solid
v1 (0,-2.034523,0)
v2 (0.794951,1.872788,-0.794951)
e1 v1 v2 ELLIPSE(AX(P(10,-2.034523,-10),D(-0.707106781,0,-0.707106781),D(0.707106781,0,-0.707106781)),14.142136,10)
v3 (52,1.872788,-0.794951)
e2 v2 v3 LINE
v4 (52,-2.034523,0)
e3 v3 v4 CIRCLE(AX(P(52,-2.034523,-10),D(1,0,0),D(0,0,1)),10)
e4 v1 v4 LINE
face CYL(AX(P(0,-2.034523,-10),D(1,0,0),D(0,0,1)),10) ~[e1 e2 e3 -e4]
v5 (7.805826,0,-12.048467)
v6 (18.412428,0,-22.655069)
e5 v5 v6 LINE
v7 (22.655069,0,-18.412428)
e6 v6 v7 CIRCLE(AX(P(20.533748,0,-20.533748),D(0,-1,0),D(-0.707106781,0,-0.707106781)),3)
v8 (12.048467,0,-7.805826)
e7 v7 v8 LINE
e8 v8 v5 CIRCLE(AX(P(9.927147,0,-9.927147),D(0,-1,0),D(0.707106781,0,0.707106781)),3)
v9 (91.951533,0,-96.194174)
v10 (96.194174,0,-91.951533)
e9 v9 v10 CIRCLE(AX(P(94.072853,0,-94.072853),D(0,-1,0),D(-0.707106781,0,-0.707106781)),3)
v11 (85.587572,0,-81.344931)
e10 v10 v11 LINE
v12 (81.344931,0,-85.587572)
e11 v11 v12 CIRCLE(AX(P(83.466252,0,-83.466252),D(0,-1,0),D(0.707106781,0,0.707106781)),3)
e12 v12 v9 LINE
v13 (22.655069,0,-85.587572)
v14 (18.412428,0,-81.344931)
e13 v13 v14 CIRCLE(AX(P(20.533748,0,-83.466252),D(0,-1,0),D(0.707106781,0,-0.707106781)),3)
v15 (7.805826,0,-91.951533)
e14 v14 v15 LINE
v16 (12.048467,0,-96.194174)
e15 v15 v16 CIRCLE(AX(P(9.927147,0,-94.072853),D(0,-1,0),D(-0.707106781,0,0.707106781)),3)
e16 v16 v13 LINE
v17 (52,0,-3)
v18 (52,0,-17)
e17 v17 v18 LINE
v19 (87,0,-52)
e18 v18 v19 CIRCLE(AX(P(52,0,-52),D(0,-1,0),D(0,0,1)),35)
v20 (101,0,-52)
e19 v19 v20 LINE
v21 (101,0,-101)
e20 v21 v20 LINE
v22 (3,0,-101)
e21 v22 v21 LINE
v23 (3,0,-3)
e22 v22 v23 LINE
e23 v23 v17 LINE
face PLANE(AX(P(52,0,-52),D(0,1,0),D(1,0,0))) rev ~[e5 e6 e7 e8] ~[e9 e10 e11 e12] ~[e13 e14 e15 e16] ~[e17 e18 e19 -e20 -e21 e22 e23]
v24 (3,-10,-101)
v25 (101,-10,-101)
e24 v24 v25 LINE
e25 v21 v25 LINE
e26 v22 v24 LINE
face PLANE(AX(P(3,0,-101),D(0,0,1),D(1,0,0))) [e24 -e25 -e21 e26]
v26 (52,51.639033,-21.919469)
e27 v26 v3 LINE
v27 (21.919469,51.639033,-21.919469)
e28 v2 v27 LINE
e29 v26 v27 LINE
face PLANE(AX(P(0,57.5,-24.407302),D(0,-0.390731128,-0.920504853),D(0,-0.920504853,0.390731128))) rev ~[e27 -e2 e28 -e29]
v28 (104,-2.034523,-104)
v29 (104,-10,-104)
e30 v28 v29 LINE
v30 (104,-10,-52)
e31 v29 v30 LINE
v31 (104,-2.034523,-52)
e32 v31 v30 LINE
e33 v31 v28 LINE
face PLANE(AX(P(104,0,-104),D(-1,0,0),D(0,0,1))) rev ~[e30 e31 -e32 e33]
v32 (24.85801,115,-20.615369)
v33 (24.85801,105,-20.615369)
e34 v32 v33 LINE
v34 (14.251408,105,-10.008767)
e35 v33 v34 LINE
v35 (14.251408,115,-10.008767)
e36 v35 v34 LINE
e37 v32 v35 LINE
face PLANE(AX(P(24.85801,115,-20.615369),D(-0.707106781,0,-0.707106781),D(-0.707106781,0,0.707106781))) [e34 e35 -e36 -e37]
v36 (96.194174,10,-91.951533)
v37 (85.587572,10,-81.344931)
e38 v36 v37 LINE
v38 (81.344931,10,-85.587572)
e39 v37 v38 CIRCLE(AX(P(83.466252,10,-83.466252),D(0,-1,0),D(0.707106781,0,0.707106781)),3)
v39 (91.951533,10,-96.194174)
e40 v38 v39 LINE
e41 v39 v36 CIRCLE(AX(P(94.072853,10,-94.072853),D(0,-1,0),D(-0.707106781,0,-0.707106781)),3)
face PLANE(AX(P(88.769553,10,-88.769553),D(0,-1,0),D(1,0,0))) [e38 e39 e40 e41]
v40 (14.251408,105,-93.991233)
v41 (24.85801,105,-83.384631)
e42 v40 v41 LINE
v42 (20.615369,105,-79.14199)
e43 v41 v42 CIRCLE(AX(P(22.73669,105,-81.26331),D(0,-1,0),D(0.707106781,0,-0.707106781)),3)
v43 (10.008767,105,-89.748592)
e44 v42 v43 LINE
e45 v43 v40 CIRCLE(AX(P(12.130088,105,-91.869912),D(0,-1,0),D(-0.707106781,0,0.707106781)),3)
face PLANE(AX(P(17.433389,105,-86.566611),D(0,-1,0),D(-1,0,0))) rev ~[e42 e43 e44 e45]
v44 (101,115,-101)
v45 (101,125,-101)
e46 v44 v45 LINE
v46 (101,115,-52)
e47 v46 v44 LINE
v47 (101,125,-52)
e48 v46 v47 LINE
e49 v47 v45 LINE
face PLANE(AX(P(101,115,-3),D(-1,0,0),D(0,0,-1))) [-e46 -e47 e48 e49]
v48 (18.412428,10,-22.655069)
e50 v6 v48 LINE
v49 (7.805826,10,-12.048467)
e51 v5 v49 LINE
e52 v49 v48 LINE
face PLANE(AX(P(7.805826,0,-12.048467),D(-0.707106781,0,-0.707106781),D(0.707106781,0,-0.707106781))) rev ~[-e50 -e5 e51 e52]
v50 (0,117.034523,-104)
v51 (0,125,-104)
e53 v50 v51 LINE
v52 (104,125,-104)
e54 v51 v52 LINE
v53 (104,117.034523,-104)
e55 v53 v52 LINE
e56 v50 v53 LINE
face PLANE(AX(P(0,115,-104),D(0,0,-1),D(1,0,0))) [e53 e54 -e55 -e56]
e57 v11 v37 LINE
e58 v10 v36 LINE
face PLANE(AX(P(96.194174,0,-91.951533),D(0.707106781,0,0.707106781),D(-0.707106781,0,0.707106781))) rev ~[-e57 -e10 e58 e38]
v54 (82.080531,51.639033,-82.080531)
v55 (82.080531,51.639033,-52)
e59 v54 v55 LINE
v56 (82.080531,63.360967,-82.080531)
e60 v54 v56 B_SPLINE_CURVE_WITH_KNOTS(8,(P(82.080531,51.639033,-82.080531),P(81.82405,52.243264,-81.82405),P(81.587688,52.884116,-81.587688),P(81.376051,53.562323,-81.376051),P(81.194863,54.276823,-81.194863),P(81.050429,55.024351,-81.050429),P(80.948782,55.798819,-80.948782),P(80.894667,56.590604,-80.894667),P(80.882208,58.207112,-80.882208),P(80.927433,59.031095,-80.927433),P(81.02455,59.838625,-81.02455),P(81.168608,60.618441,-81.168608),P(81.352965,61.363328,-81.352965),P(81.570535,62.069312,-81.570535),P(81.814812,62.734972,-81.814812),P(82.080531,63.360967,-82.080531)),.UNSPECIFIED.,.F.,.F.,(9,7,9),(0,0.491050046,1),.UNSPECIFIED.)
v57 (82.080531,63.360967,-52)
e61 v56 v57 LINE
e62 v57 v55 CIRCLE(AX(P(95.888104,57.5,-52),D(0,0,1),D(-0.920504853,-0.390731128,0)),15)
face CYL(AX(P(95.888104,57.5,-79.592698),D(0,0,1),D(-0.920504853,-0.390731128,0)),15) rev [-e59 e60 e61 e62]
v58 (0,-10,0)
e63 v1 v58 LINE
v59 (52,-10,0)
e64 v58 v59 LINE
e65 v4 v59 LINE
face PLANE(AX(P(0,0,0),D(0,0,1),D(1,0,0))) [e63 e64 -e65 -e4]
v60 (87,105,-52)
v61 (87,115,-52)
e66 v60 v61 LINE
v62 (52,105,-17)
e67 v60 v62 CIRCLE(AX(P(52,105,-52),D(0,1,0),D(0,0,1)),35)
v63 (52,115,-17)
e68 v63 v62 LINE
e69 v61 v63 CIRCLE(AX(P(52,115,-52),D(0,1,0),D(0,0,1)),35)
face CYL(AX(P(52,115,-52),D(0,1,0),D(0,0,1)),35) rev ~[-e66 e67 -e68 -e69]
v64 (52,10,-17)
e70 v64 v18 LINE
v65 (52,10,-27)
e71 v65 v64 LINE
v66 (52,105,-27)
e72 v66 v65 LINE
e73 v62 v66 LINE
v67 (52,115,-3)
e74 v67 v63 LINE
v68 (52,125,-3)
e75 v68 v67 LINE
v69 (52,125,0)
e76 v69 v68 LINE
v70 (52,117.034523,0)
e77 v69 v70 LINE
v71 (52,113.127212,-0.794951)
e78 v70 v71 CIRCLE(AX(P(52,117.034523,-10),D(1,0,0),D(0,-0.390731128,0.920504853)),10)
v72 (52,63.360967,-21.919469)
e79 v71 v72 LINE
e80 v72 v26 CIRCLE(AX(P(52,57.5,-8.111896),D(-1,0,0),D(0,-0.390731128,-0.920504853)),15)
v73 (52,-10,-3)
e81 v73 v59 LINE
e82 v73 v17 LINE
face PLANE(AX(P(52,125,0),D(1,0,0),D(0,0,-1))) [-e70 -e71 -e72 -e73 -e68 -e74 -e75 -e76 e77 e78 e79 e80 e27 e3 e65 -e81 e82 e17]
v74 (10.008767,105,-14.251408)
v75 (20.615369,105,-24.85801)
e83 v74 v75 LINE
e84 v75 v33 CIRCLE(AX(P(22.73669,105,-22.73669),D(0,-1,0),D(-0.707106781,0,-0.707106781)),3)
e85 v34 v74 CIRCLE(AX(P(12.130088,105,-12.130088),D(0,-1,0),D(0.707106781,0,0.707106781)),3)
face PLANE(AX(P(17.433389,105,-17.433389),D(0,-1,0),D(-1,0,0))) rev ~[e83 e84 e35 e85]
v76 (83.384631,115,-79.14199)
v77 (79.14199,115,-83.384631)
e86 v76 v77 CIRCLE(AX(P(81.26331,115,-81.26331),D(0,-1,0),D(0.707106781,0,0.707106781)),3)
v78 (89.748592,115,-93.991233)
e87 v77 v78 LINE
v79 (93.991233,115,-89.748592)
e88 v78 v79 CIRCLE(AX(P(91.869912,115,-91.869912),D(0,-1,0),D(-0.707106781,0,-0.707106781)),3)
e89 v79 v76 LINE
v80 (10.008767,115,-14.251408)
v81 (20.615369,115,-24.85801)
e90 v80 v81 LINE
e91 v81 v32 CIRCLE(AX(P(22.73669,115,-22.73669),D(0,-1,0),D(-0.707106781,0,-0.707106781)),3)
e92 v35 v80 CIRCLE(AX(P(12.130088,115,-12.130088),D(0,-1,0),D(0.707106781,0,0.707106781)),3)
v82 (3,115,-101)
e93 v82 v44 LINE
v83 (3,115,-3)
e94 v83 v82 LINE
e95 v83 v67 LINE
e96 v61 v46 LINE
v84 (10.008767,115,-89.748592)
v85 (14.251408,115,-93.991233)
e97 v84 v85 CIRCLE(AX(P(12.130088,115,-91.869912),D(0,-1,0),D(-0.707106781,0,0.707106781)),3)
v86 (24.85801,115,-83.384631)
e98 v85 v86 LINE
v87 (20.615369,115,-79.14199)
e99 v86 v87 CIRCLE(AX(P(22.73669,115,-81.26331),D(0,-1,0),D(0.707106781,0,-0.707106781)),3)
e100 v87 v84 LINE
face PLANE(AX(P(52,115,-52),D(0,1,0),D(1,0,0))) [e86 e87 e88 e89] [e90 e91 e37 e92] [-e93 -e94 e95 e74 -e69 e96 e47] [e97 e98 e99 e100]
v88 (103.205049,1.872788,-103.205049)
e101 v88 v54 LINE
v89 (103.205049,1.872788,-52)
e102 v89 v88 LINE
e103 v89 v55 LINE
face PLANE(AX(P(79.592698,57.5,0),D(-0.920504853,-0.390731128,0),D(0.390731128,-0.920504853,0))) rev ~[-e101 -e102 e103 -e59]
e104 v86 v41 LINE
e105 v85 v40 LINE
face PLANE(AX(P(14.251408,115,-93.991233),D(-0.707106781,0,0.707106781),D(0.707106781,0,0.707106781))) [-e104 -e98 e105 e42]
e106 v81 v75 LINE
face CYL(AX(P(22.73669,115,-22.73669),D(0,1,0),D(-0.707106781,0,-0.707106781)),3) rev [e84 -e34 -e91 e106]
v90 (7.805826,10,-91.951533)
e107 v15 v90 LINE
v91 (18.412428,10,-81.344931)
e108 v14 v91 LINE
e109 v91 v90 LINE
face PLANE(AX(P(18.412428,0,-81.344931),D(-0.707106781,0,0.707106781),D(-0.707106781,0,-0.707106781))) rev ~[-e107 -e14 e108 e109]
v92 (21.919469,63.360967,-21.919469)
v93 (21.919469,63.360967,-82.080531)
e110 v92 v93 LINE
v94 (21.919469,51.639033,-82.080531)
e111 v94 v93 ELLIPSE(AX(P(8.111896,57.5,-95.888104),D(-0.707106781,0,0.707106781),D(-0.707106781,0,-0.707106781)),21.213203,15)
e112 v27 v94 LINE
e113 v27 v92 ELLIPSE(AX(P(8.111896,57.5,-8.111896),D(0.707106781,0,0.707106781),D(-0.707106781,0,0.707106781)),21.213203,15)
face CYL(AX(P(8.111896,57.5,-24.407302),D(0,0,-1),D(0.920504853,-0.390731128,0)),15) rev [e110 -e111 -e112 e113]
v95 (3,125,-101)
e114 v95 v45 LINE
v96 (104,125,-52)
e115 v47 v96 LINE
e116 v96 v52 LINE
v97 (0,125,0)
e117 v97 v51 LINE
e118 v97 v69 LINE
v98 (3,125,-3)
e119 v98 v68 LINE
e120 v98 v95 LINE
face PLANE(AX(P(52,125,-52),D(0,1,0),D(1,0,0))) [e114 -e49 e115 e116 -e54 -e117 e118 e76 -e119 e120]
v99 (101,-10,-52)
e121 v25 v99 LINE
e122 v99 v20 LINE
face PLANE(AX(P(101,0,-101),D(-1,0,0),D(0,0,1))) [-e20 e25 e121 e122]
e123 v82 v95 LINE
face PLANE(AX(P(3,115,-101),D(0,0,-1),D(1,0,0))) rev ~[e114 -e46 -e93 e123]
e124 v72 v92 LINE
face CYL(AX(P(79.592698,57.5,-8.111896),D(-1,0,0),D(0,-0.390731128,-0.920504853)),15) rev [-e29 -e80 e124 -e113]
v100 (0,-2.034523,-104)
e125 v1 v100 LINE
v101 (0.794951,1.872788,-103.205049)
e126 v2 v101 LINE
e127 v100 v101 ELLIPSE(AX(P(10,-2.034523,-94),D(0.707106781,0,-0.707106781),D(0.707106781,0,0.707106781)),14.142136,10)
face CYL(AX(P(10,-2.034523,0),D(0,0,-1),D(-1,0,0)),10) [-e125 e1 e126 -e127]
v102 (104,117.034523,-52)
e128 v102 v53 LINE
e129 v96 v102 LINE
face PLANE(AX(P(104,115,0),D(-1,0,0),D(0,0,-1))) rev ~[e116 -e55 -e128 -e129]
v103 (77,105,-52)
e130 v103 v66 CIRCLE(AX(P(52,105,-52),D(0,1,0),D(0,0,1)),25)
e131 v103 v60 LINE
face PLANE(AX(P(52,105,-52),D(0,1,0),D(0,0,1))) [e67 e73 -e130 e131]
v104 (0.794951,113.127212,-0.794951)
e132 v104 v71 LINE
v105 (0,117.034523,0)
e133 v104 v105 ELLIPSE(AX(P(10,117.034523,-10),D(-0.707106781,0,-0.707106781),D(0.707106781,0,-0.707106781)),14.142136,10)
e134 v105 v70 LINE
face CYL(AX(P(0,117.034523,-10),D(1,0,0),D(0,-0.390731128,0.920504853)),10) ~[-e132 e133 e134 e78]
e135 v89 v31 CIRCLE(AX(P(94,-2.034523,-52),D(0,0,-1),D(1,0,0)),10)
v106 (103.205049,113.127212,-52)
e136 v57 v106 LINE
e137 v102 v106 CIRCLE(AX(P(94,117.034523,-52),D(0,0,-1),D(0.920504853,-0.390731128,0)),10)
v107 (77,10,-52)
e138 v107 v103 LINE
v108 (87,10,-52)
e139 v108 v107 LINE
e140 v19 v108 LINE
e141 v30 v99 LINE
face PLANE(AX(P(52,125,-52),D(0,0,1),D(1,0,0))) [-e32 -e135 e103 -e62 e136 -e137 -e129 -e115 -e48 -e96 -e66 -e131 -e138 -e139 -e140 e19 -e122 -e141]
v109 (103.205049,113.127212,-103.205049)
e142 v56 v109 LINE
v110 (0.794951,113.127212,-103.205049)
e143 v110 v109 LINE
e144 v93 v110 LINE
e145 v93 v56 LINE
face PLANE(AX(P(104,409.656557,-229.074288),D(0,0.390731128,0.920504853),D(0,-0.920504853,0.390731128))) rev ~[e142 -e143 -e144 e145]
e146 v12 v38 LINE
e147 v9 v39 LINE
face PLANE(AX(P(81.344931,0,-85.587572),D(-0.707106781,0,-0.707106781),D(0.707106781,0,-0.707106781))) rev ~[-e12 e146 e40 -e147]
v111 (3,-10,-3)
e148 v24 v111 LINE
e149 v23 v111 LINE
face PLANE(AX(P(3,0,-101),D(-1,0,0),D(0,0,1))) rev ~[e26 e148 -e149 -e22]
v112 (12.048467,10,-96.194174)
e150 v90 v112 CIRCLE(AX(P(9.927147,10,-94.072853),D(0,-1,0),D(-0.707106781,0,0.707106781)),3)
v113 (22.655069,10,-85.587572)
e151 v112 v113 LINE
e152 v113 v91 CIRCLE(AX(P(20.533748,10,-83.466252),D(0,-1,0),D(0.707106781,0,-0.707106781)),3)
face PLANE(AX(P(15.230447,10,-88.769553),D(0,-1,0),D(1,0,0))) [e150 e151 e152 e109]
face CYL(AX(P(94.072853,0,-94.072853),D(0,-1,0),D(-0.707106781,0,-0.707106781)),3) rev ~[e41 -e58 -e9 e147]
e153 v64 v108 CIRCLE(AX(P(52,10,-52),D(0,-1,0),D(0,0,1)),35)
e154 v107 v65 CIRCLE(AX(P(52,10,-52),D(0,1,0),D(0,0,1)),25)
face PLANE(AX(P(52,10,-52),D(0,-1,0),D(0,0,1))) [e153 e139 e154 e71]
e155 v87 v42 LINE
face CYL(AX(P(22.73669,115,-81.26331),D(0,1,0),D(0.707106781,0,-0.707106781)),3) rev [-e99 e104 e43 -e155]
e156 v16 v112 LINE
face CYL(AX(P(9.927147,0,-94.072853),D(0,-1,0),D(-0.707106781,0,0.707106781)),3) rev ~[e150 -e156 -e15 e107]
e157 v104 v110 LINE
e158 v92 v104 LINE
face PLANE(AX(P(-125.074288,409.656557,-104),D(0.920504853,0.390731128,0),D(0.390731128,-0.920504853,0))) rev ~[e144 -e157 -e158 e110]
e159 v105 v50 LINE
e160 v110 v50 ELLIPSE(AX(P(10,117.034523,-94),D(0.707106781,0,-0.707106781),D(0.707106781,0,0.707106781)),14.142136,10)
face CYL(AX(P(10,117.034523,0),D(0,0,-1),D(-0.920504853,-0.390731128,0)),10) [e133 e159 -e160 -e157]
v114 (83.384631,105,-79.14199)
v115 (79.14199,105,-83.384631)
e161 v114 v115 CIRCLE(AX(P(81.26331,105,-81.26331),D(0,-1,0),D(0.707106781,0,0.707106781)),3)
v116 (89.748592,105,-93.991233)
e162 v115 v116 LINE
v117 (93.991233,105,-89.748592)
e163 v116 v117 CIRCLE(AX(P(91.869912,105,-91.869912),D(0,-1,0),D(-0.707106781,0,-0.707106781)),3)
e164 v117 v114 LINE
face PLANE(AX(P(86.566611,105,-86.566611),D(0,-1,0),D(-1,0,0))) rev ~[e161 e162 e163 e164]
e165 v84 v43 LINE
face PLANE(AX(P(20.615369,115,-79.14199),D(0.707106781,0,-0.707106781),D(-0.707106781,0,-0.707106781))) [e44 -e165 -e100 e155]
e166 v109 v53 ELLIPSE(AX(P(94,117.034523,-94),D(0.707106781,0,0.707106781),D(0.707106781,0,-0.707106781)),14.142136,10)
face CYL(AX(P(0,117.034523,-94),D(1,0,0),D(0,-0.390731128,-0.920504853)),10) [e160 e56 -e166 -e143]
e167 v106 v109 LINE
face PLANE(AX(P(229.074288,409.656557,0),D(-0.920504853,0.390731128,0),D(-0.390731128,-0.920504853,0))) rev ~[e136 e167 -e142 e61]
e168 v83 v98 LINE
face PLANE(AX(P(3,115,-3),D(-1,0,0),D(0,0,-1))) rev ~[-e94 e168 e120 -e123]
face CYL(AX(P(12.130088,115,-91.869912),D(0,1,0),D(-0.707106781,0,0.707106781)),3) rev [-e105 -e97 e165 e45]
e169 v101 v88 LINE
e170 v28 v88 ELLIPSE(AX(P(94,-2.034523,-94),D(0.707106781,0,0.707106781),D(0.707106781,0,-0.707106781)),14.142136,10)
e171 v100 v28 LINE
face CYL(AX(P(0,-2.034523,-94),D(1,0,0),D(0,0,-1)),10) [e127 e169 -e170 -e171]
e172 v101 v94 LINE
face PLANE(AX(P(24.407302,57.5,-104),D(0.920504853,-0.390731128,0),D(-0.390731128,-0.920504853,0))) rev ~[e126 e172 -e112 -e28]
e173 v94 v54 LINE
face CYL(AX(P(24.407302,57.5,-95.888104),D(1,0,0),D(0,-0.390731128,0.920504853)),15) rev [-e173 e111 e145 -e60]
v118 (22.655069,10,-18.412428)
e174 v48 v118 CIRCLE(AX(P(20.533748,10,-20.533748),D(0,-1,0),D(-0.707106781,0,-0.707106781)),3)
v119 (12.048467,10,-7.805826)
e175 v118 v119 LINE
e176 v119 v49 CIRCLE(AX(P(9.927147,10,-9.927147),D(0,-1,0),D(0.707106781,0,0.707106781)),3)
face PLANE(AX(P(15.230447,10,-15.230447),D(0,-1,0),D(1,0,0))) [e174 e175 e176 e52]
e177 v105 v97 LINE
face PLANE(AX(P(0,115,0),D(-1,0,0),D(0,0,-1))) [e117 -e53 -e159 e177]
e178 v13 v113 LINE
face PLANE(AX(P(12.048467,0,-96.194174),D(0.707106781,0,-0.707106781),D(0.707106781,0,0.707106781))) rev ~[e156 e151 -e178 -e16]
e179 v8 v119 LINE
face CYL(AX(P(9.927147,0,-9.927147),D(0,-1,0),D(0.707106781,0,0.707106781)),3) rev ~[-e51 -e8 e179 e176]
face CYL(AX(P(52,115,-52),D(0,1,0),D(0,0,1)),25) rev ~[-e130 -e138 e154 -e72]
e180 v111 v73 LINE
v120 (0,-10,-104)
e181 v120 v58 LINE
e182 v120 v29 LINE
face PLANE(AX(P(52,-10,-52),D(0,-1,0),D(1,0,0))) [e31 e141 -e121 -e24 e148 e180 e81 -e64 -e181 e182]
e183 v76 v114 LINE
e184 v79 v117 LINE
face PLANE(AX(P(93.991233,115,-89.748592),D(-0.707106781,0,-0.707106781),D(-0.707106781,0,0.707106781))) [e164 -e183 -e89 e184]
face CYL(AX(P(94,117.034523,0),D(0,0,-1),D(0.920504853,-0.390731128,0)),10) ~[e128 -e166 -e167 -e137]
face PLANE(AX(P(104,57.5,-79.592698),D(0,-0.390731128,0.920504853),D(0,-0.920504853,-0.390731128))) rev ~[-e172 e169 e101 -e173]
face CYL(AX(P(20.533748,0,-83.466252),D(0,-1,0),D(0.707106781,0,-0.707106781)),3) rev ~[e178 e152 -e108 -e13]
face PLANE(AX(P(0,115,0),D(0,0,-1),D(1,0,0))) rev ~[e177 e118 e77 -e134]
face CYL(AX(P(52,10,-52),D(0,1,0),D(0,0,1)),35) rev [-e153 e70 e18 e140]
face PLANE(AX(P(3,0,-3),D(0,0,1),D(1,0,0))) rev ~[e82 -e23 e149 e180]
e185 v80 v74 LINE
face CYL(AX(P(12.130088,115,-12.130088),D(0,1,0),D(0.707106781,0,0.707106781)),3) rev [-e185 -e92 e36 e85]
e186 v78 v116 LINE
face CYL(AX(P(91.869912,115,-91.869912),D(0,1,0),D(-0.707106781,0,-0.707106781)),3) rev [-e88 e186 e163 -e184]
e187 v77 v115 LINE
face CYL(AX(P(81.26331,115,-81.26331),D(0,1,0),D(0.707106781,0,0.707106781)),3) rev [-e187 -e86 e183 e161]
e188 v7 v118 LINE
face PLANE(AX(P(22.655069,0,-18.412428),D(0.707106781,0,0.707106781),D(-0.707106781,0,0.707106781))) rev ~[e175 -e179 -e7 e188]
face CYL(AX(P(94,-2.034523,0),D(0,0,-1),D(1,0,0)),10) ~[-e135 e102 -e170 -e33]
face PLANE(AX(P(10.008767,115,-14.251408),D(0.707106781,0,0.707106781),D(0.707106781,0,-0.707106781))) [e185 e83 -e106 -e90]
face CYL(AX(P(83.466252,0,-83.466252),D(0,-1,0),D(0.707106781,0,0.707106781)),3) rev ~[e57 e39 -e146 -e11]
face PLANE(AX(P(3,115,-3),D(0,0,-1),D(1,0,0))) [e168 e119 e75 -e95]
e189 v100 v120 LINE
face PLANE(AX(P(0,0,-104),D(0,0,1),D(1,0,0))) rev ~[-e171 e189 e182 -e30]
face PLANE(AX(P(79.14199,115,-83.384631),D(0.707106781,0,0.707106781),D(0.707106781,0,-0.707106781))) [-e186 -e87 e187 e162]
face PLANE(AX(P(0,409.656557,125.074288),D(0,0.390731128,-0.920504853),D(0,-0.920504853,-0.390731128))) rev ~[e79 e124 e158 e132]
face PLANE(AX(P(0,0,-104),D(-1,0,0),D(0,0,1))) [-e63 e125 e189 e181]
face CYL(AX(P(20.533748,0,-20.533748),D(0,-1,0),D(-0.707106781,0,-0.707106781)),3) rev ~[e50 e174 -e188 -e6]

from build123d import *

# Parameters (mm, degrees)
SKETCH1_W           = 104
SKETCH1_H           = 104
BOSS_EXTRUDE1_DEPTH = 115
CUT_EXTRUDE1_DEPTH  = 187.70029459
SKETCH3_R           = 25
CUT_EXTRUDE2_DEPTH  = 187.70029459
CIRPATTERN1_COUNT   = 4
SKETCH4_R           = 35
CUT_EXTRUDE3_DEPTH  = 10
CUT_EXTRUDE4_START  = -10
SKETCH5_R           = 35
CUT_EXTRUDE4_DEPTH  = 10
FILLET2_R           = 15
SKETCH6_W           = 104
SKETCH6_H           = 104
SKETCH6_W_2         = 98
SKETCH6_H_2         = 98
BOSS_EXTRUDE2_DEPTH = 10
SKETCH7_W           = 104
SKETCH7_H           = 104
SKETCH7_W_2         = 98
SKETCH7_H_2         = 98
BOSS_EXTRUDE3_DEPTH = 10
CUT_EXTRUDE8_DEPTH  = 10
CUT_EXTRUDE9_DEPTH  = 10
FILLET3_R           = 10
SKETCH11_W          = 52
SKETCH11_H          = 52
CUT_EXTRUDE11_DEPTH = 200.642179912


with BuildPart() as part:
    # Sketch1 → Boss-Extrude1 (new body)
    with BuildSketch(Plane(origin=(0, 0, 0), x_dir=(1, 0, 0), z_dir=(0, 1, 0))):
        with Locations((52, 52)):
            Rectangle(SKETCH1_W, SKETCH1_H)
    extrude(amount=BOSS_EXTRUDE1_DEPTH)

    # Sketch2 → Cut-Extrude1 (cut, symmetric)
    with BuildSketch(Plane.XY):
        Polygon((229.074287939, 409.656557146), (104, 115), (79.592698068, 57.5), (104, 0), (229.074287939, -294.656557146), (869.280705191, -294.656557146), (869.280705191, 409.656557146), align=None)
    cut_extrude1 = extrude(amount=CUT_EXTRUDE1_DEPTH, both=True, mode=Mode.SUBTRACT)

    # Sketch3 → Cut-Extrude2 (cut, through all)
    with BuildSketch(Plane(origin=(0, 115, 0), x_dir=(1, 0, 0), z_dir=(0, 1, 0))):
        with Locations(Location((52, 52, 0), (0, 0, 270))):
            Circle(SKETCH3_R)
    cut_extrude2 = extrude(amount=-CUT_EXTRUDE2_DEPTH, mode=Mode.SUBTRACT)

    # CirPattern1: Cut-Extrude1, Cut-Extrude2 ×4 about axis
    cirpattern1_axis = Axis((52, 0, -52), (0, 1, 0))
    add([cut_extrude1.rotate(cirpattern1_axis, i * 360 / CIRPATTERN1_COUNT) for i in range(1, CIRPATTERN1_COUNT)], mode=Mode.SUBTRACT)
    add([cut_extrude2.rotate(cirpattern1_axis, i * 360 / CIRPATTERN1_COUNT) for i in range(1, CIRPATTERN1_COUNT)], mode=Mode.SUBTRACT)

    # Sketch4 → Cut-Extrude3 (cut)
    with BuildSketch(Plane(origin=(0, 115, 0), x_dir=(1, 0, 0), z_dir=(0, 1, 0))):
        with Locations(Location((52, 52, 0), (0, 0, 270))):
            Circle(SKETCH4_R)
    extrude(amount=-CUT_EXTRUDE3_DEPTH, mode=Mode.SUBTRACT)

    # Sketch5 → Cut-Extrude4 (cut)
    with BuildSketch(Plane.XZ.offset(CUT_EXTRUDE4_START)):
        with Locations(Location((52, -52, 0), (0, 0, 90))):
            Circle(SKETCH5_R)
    extrude(amount=CUT_EXTRUDE4_DEPTH, mode=Mode.SUBTRACT)

    # Fillet2
    fillet2_edges = [part.edges().sort_by_distance(p)[0] for p in [
        (79.592698068, 57.5, -52),
        (52, 57.5, -24.407301932),
        (24.407301932, 57.5, -52),
        (52, 57.5, -79.592698068),
    ]]
    fillet(fillet2_edges, radius=FILLET2_R)

    # Sketch6 → Boss-Extrude2 (add)
    with BuildSketch(Plane(origin=(0, 115, 0), x_dir=(1, 0, 0), z_dir=(0, 1, 0))):
        with Locations((52, 52)):
            Rectangle(SKETCH6_W, SKETCH6_H)
        with Locations((52, 52)):
            Rectangle(SKETCH6_W_2, SKETCH6_H_2, mode=Mode.SUBTRACT)
    extrude(amount=BOSS_EXTRUDE2_DEPTH)

    # Sketch7 → Boss-Extrude3 (add)
    with BuildSketch(Plane.XZ):
        with Locations((52, -52)):
            Rectangle(SKETCH7_W, SKETCH7_H)
        with Locations((52, -52)):
            Rectangle(SKETCH7_W_2, SKETCH7_H_2, mode=Mode.SUBTRACT)
    extrude(amount=BOSS_EXTRUDE3_DEPTH)

    # Sketch8 → Cut-Extrude8 (cut)
    with BuildSketch(Plane.XZ):
        with BuildLine():
            Line((85.587572106, -22.655068581), (96.194173824, -12.048466863))
            ThreePointArc((96.194173824, -12.048466863), (96.194173824, -7.805826176), (91.951533137, -7.805826176))
            Line((91.951533137, -7.805826176), (81.344931419, -18.412427894))
            ThreePointArc((81.344931419, -18.412427894), (81.344931419, -22.655068581), (85.587572106, -22.655068581))
        make_face()
        with BuildLine():
            Line((18.412427894, -81.344931419), (7.805826176, -91.951533137))
            ThreePointArc((7.805826176, -91.951533137), (7.805826176, -96.194173824), (12.048466863, -96.194173824))
            Line((12.048466863, -96.194173824), (22.655068581, -85.587572106))
            ThreePointArc((22.655068581, -85.587572106), (22.655068581, -81.344931419), (18.412427894, -81.344931419))
        make_face()
        with BuildLine():
            Line((22.655068581, -18.412427894), (12.048466863, -7.805826176))
            ThreePointArc((12.048466863, -7.805826176), (7.805826176, -7.805826176), (7.805826176, -12.048466863))
            Line((7.805826176, -12.048466863), (18.412427894, -22.655068581))
            ThreePointArc((18.412427894, -22.655068581), (22.655068581, -22.655068581), (22.655068581, -18.412427894))
        make_face()
        with BuildLine():
            Line((81.344931419, -85.587572106), (91.951533137, -96.194173824))
            ThreePointArc((91.951533137, -96.194173824), (96.194173824, -96.194173824), (96.194173824, -91.951533137))
            Line((96.194173824, -91.951533137), (85.587572106, -81.344931419))
            ThreePointArc((85.587572106, -81.344931419), (81.344931419, -81.344931419), (81.344931419, -85.587572106))
        make_face()
    extrude(amount=-CUT_EXTRUDE8_DEPTH, mode=Mode.SUBTRACT)

    # Sketch9 → Cut-Extrude9 (cut)
    with BuildSketch(Plane(origin=(0, 115, 0), x_dir=(1, 0, 0), z_dir=(0, 1, 0))):
        with BuildLine():
            Line((79.141990106, 83.384630793), (89.748591824, 93.991232511))
            ThreePointArc((89.748591824, 93.991232511), (93.991232511, 93.991232511), (93.991232511, 89.748591824))
            Line((93.991232511, 89.748591824), (83.384630793, 79.141990106))
            ThreePointArc((83.384630793, 79.141990106), (79.141990106, 79.141990106), (79.141990106, 83.384630793))
        make_face()
        with BuildLine():
            Line((83.384630793, 24.858009894), (93.991232511, 14.251408176))
            ThreePointArc((93.991232511, 14.251408176), (93.991232511, 10.008767489), (89.748591824, 10.008767489))
            Line((89.748591824, 10.008767489), (79.141990106, 20.615369207))
            ThreePointArc((79.141990106, 20.615369207), (79.141990106, 24.858009894), (83.384630793, 24.858009894))
        make_face()
        with BuildLine():
            Line((24.858009894, 20.615369207), (14.251408176, 10.008767489))
            ThreePointArc((14.251408176, 10.008767489), (10.008767489, 10.008767489), (10.008767489, 14.251408176))
            Line((10.008767489, 14.251408176), (20.615369207, 24.858009894))
            ThreePointArc((20.615369207, 24.858009894), (24.858009894, 24.858009894), (24.858009894, 20.615369207))
        make_face()
        with BuildLine():
            Line((20.615369207, 79.141990106), (10.008767489, 89.748591824))
            ThreePointArc((10.008767489, 89.748591824), (10.008767489, 93.991232511), (14.251408176, 93.991232511))
            Line((14.251408176, 93.991232511), (24.858009894, 83.384630793))
            ThreePointArc((24.858009894, 83.384630793), (24.858009894, 79.141990106), (20.615369207, 79.141990106))
        make_face()
    extrude(amount=-CUT_EXTRUDE9_DEPTH, mode=Mode.SUBTRACT)

    # Fillet3
    fillet3_edges = [part.edges().sort_by_distance(p)[0] for p in [
        (104, 115, -52),
        (52, 115, -104),
        (0, 115, -52),
        (52, 0, -104),
        (104, 0, -52),
        (52, 0, 0),
        (0, 0, -52),
        (52, 115, 0),
    ]]
    fillet(fillet3_edges, radius=FILLET3_R)

    # Sketch11 → Cut-Extrude11 (cut, through all)
    with BuildSketch(Plane(origin=(0, 125, 0), x_dir=(1, 0, 0), z_dir=(0, 1, 0))):
        with Locations((78, 26)):
            Rectangle(SKETCH11_W, SKETCH11_H)
    extrude(amount=-CUT_EXTRUDE11_DEPTH, mode=Mode.SUBTRACT)


solid = part.part
